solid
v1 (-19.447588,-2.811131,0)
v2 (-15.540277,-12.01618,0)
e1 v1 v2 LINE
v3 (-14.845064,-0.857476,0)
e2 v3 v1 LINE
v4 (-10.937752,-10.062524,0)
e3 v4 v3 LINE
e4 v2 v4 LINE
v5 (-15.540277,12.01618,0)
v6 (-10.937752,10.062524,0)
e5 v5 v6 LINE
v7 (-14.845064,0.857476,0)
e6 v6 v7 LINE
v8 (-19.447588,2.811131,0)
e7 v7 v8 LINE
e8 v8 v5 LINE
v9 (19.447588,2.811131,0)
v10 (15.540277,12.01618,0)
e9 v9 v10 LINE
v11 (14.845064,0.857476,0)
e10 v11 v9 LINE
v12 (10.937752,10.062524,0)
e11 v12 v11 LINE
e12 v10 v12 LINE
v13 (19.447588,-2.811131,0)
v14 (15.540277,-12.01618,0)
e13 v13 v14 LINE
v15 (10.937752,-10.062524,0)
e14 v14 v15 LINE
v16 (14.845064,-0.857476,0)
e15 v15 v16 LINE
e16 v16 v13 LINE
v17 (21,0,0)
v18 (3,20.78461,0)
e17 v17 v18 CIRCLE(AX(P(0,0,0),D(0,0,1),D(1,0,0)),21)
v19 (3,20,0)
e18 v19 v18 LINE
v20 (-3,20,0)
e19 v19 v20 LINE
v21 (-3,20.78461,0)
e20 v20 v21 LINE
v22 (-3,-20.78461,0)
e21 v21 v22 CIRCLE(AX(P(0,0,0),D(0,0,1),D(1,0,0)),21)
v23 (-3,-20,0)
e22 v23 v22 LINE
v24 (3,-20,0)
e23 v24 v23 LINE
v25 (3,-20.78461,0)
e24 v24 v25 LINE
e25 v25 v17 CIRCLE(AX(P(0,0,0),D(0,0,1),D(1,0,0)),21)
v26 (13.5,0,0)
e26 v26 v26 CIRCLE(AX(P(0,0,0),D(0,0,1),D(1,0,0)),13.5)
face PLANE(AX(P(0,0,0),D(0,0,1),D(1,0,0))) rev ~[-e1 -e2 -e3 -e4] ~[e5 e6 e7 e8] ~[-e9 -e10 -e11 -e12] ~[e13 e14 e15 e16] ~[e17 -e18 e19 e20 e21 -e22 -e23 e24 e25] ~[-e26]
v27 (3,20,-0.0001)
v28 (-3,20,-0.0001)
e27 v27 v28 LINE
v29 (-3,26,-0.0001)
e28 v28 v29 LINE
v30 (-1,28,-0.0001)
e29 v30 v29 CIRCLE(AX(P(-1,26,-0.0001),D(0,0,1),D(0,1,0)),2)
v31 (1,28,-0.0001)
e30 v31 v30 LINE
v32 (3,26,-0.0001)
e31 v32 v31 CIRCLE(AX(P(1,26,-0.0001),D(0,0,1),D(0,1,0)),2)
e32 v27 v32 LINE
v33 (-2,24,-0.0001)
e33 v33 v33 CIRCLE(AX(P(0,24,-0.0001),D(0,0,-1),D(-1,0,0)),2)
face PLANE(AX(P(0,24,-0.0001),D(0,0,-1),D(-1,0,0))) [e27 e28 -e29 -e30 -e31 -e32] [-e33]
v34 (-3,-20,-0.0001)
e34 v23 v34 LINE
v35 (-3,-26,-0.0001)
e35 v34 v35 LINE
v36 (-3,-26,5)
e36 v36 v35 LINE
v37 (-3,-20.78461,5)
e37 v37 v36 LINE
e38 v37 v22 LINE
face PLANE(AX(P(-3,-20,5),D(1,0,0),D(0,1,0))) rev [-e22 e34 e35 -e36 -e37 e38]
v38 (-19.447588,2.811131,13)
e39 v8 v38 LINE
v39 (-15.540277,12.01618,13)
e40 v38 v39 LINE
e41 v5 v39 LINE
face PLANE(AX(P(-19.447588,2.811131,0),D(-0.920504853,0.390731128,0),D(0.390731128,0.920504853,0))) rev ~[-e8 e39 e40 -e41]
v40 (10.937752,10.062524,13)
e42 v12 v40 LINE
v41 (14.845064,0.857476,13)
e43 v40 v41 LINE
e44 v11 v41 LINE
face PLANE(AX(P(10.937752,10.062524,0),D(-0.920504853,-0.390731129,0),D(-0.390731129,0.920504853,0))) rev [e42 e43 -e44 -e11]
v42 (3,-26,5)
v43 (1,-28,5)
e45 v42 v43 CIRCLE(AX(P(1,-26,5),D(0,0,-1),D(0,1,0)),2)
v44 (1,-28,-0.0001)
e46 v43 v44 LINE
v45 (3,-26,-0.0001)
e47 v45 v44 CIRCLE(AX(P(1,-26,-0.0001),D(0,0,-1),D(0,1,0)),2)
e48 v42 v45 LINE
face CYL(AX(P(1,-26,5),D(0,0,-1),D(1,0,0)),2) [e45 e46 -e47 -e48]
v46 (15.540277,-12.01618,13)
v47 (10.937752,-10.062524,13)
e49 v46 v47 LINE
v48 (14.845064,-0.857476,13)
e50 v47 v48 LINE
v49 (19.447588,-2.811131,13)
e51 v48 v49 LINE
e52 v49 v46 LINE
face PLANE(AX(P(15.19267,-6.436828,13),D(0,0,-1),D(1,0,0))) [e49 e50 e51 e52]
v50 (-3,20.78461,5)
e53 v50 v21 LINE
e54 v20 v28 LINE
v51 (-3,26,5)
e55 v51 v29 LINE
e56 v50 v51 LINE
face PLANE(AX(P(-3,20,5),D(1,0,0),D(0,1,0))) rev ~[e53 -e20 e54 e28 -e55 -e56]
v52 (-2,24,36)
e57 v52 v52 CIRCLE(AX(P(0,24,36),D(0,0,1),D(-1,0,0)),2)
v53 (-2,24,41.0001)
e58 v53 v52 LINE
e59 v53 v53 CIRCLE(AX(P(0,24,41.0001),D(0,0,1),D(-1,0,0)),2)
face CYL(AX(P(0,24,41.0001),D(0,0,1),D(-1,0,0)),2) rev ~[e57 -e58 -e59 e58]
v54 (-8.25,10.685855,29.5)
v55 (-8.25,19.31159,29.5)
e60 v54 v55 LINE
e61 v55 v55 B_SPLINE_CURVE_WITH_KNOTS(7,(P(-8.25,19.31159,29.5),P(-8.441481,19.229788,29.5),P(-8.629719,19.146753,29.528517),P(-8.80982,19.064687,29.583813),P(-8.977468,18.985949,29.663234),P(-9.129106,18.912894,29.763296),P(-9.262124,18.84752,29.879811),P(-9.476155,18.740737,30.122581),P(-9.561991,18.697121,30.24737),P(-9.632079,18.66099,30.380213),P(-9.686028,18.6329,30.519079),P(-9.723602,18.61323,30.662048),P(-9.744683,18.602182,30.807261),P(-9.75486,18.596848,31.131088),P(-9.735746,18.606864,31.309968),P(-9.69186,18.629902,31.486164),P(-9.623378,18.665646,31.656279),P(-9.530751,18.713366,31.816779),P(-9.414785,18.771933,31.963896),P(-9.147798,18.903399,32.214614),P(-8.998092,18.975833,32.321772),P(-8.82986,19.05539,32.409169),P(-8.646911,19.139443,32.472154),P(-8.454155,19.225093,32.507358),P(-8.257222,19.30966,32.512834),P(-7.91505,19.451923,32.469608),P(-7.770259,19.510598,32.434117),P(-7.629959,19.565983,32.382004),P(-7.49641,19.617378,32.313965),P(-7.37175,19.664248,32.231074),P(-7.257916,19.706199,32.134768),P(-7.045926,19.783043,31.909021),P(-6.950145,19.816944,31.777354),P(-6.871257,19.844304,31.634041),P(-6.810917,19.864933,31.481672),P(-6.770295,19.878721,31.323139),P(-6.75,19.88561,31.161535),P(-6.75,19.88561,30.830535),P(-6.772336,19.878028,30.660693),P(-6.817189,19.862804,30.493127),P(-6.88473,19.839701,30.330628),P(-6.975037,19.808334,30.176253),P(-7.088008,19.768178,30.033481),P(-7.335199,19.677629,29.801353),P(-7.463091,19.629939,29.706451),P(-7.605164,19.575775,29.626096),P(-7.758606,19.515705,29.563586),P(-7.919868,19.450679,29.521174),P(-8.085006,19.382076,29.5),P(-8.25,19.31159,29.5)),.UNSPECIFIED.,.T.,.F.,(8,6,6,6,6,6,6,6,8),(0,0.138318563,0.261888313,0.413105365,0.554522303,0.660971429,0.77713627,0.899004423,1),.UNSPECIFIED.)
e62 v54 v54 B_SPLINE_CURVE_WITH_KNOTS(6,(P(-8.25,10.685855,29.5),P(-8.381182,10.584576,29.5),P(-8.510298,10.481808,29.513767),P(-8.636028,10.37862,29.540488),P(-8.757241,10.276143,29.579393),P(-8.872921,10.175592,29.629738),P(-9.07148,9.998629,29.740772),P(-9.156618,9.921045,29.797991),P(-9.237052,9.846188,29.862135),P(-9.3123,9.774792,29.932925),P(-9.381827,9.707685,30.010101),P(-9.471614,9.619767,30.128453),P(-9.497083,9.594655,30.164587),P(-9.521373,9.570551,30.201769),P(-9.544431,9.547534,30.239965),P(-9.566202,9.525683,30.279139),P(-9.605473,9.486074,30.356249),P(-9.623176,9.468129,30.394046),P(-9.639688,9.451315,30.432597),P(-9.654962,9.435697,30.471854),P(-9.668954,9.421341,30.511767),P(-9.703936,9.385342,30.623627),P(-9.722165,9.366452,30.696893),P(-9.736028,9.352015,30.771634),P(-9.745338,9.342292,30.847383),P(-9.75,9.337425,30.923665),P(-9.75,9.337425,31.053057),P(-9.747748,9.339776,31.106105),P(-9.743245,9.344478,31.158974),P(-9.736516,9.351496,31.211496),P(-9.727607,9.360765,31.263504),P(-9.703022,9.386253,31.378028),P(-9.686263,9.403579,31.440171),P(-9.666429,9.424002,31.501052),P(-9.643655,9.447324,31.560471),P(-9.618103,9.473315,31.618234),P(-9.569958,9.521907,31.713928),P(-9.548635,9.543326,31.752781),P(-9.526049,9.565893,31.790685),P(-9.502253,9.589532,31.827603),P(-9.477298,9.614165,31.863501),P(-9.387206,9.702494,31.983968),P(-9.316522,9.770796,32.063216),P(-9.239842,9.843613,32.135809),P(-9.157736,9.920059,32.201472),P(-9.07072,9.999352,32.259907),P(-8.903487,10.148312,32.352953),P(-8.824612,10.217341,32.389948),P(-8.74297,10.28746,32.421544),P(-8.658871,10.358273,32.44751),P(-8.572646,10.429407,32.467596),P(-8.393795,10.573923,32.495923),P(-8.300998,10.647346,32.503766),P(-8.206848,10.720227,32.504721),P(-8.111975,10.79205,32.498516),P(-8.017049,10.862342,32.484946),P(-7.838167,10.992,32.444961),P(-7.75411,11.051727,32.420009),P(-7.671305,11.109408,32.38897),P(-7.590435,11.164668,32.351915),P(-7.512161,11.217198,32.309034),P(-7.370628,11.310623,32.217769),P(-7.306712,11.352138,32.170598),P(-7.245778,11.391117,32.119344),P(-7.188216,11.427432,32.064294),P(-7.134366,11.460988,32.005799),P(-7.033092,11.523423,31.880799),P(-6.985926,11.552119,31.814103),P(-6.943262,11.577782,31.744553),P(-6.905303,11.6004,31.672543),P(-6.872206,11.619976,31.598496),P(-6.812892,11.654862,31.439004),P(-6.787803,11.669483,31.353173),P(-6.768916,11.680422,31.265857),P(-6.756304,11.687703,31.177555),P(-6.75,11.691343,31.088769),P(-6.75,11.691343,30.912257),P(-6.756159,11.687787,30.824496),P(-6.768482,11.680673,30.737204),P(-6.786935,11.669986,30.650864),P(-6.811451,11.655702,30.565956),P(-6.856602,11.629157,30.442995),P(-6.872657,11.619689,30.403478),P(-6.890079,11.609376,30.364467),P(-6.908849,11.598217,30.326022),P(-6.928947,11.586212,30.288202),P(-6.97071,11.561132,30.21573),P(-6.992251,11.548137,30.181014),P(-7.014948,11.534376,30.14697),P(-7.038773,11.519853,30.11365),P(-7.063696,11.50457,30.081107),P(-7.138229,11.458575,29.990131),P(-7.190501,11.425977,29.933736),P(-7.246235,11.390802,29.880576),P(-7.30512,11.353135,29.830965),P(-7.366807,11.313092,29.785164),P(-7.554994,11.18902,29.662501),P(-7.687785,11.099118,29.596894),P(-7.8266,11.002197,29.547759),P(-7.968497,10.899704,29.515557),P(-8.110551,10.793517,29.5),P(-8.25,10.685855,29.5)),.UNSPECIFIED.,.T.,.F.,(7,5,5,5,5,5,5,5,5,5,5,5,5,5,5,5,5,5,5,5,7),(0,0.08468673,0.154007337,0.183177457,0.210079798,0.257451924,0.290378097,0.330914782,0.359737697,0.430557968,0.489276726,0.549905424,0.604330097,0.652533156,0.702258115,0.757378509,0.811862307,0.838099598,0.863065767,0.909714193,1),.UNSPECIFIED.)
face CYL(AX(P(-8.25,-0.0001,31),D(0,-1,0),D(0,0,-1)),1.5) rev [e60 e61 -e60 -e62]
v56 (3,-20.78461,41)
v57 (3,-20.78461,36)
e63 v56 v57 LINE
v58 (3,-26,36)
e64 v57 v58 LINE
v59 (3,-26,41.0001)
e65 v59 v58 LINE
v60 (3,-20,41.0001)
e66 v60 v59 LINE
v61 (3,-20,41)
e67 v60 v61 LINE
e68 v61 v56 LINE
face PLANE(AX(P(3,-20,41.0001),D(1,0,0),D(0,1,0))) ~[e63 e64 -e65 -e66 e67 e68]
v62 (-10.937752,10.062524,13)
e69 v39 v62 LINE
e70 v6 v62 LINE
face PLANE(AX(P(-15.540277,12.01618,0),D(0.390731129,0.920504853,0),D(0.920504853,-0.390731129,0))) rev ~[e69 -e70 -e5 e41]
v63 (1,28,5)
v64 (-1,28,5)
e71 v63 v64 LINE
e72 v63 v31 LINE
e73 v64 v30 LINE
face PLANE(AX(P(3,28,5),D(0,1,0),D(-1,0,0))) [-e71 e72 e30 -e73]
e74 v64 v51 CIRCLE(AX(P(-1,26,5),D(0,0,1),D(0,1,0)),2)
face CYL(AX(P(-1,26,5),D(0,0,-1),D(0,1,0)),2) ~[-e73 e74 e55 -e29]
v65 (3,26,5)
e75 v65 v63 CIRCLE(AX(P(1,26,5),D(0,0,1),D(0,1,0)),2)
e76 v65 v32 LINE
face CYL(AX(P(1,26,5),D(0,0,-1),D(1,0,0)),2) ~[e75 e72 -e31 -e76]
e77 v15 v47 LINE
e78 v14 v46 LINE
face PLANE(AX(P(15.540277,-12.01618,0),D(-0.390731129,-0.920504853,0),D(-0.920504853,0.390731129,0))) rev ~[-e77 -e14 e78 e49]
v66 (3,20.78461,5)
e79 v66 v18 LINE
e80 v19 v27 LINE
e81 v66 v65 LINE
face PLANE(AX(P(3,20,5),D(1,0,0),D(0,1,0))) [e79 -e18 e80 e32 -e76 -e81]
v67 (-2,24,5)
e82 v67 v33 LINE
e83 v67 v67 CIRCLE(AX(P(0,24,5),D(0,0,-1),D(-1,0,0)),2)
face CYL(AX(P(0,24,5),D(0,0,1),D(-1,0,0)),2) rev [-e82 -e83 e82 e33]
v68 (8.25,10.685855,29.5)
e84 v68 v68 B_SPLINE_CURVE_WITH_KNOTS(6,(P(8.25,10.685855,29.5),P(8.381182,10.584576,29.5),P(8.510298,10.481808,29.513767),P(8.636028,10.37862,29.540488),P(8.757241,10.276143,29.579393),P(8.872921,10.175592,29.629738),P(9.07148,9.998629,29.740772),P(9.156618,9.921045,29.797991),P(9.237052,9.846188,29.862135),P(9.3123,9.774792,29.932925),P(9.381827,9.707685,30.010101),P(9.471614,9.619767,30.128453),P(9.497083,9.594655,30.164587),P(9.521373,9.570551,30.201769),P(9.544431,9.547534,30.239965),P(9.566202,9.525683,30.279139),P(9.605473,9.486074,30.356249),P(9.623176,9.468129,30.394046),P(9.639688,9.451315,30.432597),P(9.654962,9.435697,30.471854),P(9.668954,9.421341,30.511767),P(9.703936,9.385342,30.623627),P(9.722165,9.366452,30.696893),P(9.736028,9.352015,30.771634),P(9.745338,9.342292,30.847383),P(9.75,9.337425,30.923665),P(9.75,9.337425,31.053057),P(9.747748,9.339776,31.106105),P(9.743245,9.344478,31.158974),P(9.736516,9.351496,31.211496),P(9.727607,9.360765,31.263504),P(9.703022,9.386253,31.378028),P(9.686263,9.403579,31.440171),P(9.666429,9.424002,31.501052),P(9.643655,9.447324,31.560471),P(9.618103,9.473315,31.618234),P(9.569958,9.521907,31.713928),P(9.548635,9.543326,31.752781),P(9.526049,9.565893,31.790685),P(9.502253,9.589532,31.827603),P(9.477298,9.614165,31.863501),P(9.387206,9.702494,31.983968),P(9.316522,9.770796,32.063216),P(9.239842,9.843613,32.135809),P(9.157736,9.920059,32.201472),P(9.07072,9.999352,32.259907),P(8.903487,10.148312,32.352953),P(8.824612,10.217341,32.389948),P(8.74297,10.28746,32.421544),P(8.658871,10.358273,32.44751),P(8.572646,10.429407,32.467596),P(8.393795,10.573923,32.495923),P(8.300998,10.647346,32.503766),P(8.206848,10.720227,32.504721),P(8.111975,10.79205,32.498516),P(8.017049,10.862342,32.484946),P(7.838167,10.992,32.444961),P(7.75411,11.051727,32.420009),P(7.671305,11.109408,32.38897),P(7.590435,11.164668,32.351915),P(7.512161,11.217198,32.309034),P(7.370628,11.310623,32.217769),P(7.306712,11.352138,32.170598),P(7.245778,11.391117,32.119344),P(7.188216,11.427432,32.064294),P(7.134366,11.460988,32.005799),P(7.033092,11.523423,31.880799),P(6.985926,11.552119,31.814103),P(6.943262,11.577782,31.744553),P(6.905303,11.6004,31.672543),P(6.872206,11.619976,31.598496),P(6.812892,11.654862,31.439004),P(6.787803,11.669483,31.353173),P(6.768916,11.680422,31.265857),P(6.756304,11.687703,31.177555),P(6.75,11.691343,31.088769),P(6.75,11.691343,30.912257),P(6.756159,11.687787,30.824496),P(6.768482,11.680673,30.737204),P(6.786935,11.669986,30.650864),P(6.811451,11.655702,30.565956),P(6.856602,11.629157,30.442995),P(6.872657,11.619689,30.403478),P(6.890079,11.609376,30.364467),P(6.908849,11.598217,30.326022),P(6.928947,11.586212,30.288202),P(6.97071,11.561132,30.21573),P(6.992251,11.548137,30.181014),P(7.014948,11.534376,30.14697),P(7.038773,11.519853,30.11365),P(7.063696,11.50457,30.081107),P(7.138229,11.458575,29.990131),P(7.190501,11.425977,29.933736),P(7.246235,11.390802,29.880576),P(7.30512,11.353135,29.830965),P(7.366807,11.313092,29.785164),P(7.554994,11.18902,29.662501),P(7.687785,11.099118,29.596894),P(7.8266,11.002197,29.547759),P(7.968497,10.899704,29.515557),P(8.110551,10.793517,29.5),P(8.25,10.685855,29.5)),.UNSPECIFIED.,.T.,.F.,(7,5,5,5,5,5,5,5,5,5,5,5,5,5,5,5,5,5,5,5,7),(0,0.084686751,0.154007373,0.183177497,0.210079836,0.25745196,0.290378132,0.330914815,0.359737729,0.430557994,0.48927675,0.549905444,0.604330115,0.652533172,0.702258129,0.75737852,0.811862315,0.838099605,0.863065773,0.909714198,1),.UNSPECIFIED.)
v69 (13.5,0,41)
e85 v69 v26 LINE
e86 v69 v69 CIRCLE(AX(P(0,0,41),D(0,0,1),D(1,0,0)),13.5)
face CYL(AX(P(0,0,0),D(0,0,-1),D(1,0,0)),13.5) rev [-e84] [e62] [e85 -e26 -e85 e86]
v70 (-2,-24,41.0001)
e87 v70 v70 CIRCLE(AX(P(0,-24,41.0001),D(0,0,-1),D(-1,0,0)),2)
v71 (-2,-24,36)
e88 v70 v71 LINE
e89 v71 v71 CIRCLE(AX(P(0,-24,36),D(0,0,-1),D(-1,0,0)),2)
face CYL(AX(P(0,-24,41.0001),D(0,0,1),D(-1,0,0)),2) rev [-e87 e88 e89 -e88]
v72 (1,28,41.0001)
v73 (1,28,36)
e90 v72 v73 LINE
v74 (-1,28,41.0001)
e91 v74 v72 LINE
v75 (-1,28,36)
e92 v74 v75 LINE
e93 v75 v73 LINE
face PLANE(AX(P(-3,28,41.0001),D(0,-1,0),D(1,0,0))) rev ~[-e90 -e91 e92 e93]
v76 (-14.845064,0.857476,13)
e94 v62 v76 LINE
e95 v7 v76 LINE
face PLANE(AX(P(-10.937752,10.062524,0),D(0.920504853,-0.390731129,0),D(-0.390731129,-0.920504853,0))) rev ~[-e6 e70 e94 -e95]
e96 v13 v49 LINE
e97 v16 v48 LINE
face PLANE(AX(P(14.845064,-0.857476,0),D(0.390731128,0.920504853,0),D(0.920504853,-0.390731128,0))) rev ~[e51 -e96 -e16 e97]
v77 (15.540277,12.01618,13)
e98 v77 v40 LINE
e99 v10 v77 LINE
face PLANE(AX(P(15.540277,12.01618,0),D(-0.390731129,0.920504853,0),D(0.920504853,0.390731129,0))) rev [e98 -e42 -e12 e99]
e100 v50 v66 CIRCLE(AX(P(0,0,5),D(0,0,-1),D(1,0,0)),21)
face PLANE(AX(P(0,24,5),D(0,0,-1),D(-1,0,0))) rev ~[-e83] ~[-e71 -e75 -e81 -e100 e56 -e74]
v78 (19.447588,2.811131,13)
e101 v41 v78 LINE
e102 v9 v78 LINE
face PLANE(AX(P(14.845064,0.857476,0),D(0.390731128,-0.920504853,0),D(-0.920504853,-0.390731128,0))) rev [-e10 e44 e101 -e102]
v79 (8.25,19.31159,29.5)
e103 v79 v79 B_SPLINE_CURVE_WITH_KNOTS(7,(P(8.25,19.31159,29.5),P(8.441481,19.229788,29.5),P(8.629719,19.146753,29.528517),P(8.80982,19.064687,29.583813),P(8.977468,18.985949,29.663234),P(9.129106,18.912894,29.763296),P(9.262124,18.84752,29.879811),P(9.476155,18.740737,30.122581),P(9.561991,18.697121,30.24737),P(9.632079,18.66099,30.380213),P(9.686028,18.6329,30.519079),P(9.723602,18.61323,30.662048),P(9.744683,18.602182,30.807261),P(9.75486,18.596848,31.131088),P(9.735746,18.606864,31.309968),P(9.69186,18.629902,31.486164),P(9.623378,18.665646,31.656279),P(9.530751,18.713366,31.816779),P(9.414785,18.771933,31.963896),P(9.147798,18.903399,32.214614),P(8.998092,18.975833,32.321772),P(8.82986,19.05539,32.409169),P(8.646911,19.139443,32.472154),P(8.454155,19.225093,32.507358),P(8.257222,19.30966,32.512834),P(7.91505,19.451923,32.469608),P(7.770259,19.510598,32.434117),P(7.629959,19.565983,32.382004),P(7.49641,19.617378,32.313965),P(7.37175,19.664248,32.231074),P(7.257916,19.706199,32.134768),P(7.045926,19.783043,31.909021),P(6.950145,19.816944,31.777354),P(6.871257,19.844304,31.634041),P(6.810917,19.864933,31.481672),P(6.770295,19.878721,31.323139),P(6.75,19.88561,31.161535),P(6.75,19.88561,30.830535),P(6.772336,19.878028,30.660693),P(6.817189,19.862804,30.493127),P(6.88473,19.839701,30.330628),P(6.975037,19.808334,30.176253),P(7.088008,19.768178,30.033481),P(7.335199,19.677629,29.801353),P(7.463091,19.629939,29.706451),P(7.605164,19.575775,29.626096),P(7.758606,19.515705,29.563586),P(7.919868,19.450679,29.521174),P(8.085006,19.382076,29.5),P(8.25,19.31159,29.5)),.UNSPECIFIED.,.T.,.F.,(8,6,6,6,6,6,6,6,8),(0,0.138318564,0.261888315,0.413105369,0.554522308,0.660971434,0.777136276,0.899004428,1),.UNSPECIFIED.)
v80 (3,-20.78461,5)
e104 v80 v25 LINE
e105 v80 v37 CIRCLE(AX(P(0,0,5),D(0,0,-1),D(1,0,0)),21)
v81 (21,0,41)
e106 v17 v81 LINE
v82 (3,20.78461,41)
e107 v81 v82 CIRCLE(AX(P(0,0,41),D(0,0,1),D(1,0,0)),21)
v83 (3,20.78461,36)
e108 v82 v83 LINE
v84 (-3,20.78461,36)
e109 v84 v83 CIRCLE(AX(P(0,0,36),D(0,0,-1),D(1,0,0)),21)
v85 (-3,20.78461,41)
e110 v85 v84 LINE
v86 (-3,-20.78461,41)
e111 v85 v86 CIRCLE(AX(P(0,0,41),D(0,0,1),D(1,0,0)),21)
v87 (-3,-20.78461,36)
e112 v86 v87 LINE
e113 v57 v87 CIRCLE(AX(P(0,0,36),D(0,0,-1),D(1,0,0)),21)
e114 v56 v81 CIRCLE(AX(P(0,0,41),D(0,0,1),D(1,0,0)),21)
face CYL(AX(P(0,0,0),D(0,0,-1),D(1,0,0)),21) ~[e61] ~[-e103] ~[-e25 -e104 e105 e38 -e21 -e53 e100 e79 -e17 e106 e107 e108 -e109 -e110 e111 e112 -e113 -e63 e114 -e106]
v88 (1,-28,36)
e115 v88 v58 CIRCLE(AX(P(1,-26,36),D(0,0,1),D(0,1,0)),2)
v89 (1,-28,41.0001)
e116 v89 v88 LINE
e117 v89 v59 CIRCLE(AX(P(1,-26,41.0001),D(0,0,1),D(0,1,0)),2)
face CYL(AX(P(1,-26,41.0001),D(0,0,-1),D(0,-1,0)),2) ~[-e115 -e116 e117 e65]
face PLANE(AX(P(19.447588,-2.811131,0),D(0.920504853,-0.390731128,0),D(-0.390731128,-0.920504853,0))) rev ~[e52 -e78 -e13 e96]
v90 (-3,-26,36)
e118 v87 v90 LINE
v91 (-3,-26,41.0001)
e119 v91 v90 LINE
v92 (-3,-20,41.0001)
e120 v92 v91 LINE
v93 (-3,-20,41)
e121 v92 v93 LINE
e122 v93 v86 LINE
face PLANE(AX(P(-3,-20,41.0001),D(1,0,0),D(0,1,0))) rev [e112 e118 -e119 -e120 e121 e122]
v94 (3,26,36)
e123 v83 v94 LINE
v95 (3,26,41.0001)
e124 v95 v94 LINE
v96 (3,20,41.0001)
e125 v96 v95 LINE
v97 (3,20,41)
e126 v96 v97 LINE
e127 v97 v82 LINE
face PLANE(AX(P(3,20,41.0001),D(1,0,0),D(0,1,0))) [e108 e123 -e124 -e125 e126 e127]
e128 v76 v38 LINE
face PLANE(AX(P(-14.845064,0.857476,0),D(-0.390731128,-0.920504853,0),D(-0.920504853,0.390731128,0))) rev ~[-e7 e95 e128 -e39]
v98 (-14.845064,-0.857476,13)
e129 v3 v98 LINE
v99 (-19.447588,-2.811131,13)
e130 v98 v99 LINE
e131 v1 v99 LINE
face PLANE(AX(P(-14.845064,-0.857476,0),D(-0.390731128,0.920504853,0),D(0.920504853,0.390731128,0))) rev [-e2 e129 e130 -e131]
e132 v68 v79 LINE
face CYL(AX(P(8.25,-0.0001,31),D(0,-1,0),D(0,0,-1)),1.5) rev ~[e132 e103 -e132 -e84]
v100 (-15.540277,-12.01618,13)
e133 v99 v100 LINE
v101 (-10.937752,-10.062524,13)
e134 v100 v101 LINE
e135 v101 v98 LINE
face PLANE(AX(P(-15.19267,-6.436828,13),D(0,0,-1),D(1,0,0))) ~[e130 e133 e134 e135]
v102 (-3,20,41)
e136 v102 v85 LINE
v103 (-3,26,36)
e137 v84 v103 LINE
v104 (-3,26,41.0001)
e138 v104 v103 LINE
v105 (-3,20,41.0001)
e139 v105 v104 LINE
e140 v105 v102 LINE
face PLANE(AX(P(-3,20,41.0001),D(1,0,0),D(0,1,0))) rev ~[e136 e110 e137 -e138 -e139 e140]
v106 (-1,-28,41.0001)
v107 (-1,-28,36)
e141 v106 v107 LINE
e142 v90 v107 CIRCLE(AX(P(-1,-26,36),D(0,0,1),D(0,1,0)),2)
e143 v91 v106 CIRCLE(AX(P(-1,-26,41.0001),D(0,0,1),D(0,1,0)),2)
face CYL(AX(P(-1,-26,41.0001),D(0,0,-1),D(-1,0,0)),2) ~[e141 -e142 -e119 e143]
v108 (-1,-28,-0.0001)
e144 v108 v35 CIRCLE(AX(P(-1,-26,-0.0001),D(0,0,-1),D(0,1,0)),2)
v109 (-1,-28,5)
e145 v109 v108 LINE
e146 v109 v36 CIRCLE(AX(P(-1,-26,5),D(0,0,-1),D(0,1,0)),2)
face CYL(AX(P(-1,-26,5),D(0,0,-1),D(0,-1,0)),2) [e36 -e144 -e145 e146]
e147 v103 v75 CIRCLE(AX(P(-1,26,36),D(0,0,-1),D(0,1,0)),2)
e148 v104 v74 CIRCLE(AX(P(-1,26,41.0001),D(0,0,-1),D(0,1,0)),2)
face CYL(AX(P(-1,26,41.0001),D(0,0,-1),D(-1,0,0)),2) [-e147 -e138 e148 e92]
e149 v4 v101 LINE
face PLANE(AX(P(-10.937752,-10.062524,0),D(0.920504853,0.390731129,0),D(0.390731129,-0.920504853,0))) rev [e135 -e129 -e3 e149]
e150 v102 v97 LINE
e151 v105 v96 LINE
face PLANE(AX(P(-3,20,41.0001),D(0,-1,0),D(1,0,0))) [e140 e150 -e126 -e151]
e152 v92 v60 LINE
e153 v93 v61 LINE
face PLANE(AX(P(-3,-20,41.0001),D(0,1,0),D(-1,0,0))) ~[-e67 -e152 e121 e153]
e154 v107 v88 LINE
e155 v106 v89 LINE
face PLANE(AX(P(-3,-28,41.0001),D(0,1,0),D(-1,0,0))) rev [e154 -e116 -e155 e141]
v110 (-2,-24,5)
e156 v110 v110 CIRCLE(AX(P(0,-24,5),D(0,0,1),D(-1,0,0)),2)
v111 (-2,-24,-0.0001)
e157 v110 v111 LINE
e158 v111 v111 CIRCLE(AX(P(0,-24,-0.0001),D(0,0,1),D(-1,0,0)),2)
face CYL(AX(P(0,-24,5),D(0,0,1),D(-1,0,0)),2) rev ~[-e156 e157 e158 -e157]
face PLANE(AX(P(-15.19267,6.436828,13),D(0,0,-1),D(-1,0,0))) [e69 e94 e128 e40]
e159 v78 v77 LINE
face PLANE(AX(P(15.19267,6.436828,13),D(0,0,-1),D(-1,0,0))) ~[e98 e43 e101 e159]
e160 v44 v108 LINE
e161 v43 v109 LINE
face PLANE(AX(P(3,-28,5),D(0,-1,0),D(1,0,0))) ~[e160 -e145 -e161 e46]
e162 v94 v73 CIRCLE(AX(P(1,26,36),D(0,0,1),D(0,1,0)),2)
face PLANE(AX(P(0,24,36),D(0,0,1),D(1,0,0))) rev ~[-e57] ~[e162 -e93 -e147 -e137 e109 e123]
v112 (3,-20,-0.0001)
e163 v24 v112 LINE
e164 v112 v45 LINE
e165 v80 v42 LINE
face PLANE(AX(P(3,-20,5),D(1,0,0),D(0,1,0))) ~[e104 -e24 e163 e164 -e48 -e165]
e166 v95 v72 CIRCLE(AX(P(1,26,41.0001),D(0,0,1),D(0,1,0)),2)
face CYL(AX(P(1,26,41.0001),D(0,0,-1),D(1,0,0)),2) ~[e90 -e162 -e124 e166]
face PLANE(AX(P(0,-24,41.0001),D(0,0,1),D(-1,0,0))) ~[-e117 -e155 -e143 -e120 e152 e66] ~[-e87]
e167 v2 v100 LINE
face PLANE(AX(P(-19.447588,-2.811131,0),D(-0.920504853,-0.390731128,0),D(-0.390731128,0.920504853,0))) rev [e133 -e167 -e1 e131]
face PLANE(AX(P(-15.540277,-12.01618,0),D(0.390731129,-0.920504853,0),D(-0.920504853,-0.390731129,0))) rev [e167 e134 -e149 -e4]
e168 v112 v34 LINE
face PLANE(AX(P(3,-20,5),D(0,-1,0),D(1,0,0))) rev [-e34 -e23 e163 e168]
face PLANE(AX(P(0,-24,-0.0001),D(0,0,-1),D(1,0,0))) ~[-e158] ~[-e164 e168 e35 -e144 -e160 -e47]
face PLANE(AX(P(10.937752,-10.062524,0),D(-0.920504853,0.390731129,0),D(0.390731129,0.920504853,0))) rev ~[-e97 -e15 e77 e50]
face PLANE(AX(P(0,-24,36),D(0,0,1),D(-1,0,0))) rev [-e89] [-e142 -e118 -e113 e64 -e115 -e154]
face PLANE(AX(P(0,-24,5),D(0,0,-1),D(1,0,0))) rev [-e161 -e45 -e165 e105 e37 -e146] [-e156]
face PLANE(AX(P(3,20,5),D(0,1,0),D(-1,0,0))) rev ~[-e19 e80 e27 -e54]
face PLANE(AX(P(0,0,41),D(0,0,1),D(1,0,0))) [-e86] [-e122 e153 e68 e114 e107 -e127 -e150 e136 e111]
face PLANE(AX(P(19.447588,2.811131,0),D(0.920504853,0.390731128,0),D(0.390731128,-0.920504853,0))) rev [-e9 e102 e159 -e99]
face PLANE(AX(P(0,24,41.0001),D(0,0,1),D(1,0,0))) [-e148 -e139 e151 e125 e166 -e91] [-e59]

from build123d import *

# Parameters (mm, degrees)
SKETCH1_R                = 19.01
SKETCH1_R_2              = 13.5
BOSS_EXTRUDE1_DEPTH      = 18
BOSS_EXTRUDE2_DEPTH      = 23
BOSS_EXTRUDE2_DEPTH_BACK = 18
SKETCH2_R                = 21
SKETCH2_R_2              = 13.5
CUT_EXTRUDE1_DEPTH       = 13
MIRROR2_COPY_1_DEPTH     = 13
BOSS_EXTRUDE3_START      = -5
SKETCH4_W                = 6
SKETCH4_H                = 8
SKETCH4_R                = 2
BOSS_EXTRUDE3_DEPTH      = 5.0001
FILLET1_R                = 2
FILLET1_OF_MIRROR5_R     = 2
BOSS_EXTRUDE6_START      = 0.0001
SKETCH7_W                = 6
SKETCH7_H                = 8
SKETCH7_R                = 2
BOSS_EXTRUDE6_DEPTH      = 5.0001
FILLET2_R                = 2
CUT_EXTRUDE2_START       = -0.0001
SKETCH9_R                = 1.5
CUT_EXTRUDE2_DEPTH       = 20.0001


with BuildPart() as part:
    # Sketch1 → Boss-Extrude1 (new body)
    with BuildSketch(Plane.XY):
        Circle(SKETCH1_R)
        Circle(SKETCH1_R_2, mode=Mode.SUBTRACT)
    extrude(amount=BOSS_EXTRUDE1_DEPTH)

    # Sketch2 → Boss-Extrude2 (add, two sides: drawn at the far end of the back side and taken through both)
    with BuildSketch(Plane.XY.offset(18).offset(-BOSS_EXTRUDE2_DEPTH_BACK)):
        Circle(SKETCH2_R)
        Circle(SKETCH2_R_2, mode=Mode.SUBTRACT)
    extrude(amount=BOSS_EXTRUDE2_DEPTH + BOSS_EXTRUDE2_DEPTH_BACK)

    # Sketch3 → Cut-Extrude1 (cut)
    with BuildSketch(Plane(origin=(0, 0, 0), x_dir=(-1, 0, 0), z_dir=(0, 0, -1))):
        Polygon((15.540276616, 12.01617991), (10.937752349, 10.062524267), (14.845063634, 0.857475733), (19.447587901, 2.811131375), align=None)
    cut_extrude1 = extrude(amount=-CUT_EXTRUDE1_DEPTH, mode=Mode.SUBTRACT)

    # Mirror1: Cut-Extrude1 across plane
    add(cut_extrude1.mirror(Plane.ZX), mode=Mode.SUBTRACT)

    # Mirror2: Cut-Extrude1 across plane
    add(cut_extrude1.mirror(Plane(origin=(0, 0, 0), x_dir=(0, 0, 1), z_dir=(1, 0, 0))), mode=Mode.SUBTRACT)

    # Mirror2 copy 1 sketch → Mirror2 copy 1 (cut)
    with BuildSketch(Plane(origin=(0, 0, 0), x_dir=(1, 0, 0), z_dir=(0, 0, -1))):
        Polygon((15.540276616, 12.01617991), (10.937752349, 10.062524267), (14.845063634, 0.857475733), (19.447587901, 2.811131375), align=None)
    extrude(amount=-MIRROR2_COPY_1_DEPTH, mode=Mode.SUBTRACT)

    # Sketch4 → Boss-Extrude3 (add)
    with BuildSketch(Plane(origin=(0, 0, 0), x_dir=(-1, 0, 0), z_dir=(0, 0, -1)).offset(BOSS_EXTRUDE3_START)):
        with Locations((0, 24)):
            Rectangle(SKETCH4_W, SKETCH4_H)
        with Locations((0, 24)):
            Circle(SKETCH4_R, mode=Mode.SUBTRACT)
    boss_extrude3 = extrude(amount=BOSS_EXTRUDE3_DEPTH)

    # Fillet1
    fillet1_edges = [part.edges().sort_by_distance(p)[0] for p in [
        (-3, 28, 2.49995),
        (3, 28, 2.49995),
    ]]
    fillet(fillet1_edges, radius=FILLET1_R)

    # Mirror5: Boss-Extrude3 across plane
    add(boss_extrude3.mirror(Plane.ZX))

    # Fillet1 of Mirror5
    fillet1_of_mirror5_edges = [part.edges().sort_by_distance(p)[0] for p in [
        (-3, -28, 2.49995),
        (3, -28, 2.49995),
    ]]
    fillet(fillet1_of_mirror5_edges, radius=FILLET1_OF_MIRROR5_R)

    # Sketch7 → Boss-Extrude6 (add)
    with BuildSketch(Plane.XY.offset(41).offset(BOSS_EXTRUDE6_START)):
        with Locations((0, 24)):
            Rectangle(SKETCH7_W, SKETCH7_H)
        with Locations(Location((0, 24, 0), (0, 0, 180))):
            Circle(SKETCH7_R, mode=Mode.SUBTRACT)
    boss_extrude6 = extrude(amount=-BOSS_EXTRUDE6_DEPTH)

    # Mirror6: Boss-Extrude6 across plane
    add(boss_extrude6.mirror(Plane.ZX))

    # Fillet2
    fillet2_edges = [part.edges().sort_by_distance(p)[0] for p in [
        (-3, 28, 38.50005),
        (3, 28, 38.50005),
        (-3, -28, 38.50005),
        (3, -28, 38.50005),
    ]]
    fillet(fillet2_edges, radius=FILLET2_R)

    # Sketch9 → Cut-Extrude2 (cut)
    with BuildSketch(Plane(origin=(0, 0, 0), x_dir=(1, 0, 0), z_dir=(0, 1, 0)).offset(CUT_EXTRUDE2_START)):
        with Locations(Location((-8.25, -31, 0), (0, 0, 90))):
            Circle(SKETCH9_R)
    cut_extrude2 = extrude(amount=CUT_EXTRUDE2_DEPTH, mode=Mode.SUBTRACT)

    # Mirror7: Cut-Extrude2 across plane
    add(cut_extrude2.mirror(Plane(origin=(0, 0, 0), x_dir=(0, 0, 1), z_dir=(1, 0, 0))), mode=Mode.SUBTRACT)


solid = part.part
